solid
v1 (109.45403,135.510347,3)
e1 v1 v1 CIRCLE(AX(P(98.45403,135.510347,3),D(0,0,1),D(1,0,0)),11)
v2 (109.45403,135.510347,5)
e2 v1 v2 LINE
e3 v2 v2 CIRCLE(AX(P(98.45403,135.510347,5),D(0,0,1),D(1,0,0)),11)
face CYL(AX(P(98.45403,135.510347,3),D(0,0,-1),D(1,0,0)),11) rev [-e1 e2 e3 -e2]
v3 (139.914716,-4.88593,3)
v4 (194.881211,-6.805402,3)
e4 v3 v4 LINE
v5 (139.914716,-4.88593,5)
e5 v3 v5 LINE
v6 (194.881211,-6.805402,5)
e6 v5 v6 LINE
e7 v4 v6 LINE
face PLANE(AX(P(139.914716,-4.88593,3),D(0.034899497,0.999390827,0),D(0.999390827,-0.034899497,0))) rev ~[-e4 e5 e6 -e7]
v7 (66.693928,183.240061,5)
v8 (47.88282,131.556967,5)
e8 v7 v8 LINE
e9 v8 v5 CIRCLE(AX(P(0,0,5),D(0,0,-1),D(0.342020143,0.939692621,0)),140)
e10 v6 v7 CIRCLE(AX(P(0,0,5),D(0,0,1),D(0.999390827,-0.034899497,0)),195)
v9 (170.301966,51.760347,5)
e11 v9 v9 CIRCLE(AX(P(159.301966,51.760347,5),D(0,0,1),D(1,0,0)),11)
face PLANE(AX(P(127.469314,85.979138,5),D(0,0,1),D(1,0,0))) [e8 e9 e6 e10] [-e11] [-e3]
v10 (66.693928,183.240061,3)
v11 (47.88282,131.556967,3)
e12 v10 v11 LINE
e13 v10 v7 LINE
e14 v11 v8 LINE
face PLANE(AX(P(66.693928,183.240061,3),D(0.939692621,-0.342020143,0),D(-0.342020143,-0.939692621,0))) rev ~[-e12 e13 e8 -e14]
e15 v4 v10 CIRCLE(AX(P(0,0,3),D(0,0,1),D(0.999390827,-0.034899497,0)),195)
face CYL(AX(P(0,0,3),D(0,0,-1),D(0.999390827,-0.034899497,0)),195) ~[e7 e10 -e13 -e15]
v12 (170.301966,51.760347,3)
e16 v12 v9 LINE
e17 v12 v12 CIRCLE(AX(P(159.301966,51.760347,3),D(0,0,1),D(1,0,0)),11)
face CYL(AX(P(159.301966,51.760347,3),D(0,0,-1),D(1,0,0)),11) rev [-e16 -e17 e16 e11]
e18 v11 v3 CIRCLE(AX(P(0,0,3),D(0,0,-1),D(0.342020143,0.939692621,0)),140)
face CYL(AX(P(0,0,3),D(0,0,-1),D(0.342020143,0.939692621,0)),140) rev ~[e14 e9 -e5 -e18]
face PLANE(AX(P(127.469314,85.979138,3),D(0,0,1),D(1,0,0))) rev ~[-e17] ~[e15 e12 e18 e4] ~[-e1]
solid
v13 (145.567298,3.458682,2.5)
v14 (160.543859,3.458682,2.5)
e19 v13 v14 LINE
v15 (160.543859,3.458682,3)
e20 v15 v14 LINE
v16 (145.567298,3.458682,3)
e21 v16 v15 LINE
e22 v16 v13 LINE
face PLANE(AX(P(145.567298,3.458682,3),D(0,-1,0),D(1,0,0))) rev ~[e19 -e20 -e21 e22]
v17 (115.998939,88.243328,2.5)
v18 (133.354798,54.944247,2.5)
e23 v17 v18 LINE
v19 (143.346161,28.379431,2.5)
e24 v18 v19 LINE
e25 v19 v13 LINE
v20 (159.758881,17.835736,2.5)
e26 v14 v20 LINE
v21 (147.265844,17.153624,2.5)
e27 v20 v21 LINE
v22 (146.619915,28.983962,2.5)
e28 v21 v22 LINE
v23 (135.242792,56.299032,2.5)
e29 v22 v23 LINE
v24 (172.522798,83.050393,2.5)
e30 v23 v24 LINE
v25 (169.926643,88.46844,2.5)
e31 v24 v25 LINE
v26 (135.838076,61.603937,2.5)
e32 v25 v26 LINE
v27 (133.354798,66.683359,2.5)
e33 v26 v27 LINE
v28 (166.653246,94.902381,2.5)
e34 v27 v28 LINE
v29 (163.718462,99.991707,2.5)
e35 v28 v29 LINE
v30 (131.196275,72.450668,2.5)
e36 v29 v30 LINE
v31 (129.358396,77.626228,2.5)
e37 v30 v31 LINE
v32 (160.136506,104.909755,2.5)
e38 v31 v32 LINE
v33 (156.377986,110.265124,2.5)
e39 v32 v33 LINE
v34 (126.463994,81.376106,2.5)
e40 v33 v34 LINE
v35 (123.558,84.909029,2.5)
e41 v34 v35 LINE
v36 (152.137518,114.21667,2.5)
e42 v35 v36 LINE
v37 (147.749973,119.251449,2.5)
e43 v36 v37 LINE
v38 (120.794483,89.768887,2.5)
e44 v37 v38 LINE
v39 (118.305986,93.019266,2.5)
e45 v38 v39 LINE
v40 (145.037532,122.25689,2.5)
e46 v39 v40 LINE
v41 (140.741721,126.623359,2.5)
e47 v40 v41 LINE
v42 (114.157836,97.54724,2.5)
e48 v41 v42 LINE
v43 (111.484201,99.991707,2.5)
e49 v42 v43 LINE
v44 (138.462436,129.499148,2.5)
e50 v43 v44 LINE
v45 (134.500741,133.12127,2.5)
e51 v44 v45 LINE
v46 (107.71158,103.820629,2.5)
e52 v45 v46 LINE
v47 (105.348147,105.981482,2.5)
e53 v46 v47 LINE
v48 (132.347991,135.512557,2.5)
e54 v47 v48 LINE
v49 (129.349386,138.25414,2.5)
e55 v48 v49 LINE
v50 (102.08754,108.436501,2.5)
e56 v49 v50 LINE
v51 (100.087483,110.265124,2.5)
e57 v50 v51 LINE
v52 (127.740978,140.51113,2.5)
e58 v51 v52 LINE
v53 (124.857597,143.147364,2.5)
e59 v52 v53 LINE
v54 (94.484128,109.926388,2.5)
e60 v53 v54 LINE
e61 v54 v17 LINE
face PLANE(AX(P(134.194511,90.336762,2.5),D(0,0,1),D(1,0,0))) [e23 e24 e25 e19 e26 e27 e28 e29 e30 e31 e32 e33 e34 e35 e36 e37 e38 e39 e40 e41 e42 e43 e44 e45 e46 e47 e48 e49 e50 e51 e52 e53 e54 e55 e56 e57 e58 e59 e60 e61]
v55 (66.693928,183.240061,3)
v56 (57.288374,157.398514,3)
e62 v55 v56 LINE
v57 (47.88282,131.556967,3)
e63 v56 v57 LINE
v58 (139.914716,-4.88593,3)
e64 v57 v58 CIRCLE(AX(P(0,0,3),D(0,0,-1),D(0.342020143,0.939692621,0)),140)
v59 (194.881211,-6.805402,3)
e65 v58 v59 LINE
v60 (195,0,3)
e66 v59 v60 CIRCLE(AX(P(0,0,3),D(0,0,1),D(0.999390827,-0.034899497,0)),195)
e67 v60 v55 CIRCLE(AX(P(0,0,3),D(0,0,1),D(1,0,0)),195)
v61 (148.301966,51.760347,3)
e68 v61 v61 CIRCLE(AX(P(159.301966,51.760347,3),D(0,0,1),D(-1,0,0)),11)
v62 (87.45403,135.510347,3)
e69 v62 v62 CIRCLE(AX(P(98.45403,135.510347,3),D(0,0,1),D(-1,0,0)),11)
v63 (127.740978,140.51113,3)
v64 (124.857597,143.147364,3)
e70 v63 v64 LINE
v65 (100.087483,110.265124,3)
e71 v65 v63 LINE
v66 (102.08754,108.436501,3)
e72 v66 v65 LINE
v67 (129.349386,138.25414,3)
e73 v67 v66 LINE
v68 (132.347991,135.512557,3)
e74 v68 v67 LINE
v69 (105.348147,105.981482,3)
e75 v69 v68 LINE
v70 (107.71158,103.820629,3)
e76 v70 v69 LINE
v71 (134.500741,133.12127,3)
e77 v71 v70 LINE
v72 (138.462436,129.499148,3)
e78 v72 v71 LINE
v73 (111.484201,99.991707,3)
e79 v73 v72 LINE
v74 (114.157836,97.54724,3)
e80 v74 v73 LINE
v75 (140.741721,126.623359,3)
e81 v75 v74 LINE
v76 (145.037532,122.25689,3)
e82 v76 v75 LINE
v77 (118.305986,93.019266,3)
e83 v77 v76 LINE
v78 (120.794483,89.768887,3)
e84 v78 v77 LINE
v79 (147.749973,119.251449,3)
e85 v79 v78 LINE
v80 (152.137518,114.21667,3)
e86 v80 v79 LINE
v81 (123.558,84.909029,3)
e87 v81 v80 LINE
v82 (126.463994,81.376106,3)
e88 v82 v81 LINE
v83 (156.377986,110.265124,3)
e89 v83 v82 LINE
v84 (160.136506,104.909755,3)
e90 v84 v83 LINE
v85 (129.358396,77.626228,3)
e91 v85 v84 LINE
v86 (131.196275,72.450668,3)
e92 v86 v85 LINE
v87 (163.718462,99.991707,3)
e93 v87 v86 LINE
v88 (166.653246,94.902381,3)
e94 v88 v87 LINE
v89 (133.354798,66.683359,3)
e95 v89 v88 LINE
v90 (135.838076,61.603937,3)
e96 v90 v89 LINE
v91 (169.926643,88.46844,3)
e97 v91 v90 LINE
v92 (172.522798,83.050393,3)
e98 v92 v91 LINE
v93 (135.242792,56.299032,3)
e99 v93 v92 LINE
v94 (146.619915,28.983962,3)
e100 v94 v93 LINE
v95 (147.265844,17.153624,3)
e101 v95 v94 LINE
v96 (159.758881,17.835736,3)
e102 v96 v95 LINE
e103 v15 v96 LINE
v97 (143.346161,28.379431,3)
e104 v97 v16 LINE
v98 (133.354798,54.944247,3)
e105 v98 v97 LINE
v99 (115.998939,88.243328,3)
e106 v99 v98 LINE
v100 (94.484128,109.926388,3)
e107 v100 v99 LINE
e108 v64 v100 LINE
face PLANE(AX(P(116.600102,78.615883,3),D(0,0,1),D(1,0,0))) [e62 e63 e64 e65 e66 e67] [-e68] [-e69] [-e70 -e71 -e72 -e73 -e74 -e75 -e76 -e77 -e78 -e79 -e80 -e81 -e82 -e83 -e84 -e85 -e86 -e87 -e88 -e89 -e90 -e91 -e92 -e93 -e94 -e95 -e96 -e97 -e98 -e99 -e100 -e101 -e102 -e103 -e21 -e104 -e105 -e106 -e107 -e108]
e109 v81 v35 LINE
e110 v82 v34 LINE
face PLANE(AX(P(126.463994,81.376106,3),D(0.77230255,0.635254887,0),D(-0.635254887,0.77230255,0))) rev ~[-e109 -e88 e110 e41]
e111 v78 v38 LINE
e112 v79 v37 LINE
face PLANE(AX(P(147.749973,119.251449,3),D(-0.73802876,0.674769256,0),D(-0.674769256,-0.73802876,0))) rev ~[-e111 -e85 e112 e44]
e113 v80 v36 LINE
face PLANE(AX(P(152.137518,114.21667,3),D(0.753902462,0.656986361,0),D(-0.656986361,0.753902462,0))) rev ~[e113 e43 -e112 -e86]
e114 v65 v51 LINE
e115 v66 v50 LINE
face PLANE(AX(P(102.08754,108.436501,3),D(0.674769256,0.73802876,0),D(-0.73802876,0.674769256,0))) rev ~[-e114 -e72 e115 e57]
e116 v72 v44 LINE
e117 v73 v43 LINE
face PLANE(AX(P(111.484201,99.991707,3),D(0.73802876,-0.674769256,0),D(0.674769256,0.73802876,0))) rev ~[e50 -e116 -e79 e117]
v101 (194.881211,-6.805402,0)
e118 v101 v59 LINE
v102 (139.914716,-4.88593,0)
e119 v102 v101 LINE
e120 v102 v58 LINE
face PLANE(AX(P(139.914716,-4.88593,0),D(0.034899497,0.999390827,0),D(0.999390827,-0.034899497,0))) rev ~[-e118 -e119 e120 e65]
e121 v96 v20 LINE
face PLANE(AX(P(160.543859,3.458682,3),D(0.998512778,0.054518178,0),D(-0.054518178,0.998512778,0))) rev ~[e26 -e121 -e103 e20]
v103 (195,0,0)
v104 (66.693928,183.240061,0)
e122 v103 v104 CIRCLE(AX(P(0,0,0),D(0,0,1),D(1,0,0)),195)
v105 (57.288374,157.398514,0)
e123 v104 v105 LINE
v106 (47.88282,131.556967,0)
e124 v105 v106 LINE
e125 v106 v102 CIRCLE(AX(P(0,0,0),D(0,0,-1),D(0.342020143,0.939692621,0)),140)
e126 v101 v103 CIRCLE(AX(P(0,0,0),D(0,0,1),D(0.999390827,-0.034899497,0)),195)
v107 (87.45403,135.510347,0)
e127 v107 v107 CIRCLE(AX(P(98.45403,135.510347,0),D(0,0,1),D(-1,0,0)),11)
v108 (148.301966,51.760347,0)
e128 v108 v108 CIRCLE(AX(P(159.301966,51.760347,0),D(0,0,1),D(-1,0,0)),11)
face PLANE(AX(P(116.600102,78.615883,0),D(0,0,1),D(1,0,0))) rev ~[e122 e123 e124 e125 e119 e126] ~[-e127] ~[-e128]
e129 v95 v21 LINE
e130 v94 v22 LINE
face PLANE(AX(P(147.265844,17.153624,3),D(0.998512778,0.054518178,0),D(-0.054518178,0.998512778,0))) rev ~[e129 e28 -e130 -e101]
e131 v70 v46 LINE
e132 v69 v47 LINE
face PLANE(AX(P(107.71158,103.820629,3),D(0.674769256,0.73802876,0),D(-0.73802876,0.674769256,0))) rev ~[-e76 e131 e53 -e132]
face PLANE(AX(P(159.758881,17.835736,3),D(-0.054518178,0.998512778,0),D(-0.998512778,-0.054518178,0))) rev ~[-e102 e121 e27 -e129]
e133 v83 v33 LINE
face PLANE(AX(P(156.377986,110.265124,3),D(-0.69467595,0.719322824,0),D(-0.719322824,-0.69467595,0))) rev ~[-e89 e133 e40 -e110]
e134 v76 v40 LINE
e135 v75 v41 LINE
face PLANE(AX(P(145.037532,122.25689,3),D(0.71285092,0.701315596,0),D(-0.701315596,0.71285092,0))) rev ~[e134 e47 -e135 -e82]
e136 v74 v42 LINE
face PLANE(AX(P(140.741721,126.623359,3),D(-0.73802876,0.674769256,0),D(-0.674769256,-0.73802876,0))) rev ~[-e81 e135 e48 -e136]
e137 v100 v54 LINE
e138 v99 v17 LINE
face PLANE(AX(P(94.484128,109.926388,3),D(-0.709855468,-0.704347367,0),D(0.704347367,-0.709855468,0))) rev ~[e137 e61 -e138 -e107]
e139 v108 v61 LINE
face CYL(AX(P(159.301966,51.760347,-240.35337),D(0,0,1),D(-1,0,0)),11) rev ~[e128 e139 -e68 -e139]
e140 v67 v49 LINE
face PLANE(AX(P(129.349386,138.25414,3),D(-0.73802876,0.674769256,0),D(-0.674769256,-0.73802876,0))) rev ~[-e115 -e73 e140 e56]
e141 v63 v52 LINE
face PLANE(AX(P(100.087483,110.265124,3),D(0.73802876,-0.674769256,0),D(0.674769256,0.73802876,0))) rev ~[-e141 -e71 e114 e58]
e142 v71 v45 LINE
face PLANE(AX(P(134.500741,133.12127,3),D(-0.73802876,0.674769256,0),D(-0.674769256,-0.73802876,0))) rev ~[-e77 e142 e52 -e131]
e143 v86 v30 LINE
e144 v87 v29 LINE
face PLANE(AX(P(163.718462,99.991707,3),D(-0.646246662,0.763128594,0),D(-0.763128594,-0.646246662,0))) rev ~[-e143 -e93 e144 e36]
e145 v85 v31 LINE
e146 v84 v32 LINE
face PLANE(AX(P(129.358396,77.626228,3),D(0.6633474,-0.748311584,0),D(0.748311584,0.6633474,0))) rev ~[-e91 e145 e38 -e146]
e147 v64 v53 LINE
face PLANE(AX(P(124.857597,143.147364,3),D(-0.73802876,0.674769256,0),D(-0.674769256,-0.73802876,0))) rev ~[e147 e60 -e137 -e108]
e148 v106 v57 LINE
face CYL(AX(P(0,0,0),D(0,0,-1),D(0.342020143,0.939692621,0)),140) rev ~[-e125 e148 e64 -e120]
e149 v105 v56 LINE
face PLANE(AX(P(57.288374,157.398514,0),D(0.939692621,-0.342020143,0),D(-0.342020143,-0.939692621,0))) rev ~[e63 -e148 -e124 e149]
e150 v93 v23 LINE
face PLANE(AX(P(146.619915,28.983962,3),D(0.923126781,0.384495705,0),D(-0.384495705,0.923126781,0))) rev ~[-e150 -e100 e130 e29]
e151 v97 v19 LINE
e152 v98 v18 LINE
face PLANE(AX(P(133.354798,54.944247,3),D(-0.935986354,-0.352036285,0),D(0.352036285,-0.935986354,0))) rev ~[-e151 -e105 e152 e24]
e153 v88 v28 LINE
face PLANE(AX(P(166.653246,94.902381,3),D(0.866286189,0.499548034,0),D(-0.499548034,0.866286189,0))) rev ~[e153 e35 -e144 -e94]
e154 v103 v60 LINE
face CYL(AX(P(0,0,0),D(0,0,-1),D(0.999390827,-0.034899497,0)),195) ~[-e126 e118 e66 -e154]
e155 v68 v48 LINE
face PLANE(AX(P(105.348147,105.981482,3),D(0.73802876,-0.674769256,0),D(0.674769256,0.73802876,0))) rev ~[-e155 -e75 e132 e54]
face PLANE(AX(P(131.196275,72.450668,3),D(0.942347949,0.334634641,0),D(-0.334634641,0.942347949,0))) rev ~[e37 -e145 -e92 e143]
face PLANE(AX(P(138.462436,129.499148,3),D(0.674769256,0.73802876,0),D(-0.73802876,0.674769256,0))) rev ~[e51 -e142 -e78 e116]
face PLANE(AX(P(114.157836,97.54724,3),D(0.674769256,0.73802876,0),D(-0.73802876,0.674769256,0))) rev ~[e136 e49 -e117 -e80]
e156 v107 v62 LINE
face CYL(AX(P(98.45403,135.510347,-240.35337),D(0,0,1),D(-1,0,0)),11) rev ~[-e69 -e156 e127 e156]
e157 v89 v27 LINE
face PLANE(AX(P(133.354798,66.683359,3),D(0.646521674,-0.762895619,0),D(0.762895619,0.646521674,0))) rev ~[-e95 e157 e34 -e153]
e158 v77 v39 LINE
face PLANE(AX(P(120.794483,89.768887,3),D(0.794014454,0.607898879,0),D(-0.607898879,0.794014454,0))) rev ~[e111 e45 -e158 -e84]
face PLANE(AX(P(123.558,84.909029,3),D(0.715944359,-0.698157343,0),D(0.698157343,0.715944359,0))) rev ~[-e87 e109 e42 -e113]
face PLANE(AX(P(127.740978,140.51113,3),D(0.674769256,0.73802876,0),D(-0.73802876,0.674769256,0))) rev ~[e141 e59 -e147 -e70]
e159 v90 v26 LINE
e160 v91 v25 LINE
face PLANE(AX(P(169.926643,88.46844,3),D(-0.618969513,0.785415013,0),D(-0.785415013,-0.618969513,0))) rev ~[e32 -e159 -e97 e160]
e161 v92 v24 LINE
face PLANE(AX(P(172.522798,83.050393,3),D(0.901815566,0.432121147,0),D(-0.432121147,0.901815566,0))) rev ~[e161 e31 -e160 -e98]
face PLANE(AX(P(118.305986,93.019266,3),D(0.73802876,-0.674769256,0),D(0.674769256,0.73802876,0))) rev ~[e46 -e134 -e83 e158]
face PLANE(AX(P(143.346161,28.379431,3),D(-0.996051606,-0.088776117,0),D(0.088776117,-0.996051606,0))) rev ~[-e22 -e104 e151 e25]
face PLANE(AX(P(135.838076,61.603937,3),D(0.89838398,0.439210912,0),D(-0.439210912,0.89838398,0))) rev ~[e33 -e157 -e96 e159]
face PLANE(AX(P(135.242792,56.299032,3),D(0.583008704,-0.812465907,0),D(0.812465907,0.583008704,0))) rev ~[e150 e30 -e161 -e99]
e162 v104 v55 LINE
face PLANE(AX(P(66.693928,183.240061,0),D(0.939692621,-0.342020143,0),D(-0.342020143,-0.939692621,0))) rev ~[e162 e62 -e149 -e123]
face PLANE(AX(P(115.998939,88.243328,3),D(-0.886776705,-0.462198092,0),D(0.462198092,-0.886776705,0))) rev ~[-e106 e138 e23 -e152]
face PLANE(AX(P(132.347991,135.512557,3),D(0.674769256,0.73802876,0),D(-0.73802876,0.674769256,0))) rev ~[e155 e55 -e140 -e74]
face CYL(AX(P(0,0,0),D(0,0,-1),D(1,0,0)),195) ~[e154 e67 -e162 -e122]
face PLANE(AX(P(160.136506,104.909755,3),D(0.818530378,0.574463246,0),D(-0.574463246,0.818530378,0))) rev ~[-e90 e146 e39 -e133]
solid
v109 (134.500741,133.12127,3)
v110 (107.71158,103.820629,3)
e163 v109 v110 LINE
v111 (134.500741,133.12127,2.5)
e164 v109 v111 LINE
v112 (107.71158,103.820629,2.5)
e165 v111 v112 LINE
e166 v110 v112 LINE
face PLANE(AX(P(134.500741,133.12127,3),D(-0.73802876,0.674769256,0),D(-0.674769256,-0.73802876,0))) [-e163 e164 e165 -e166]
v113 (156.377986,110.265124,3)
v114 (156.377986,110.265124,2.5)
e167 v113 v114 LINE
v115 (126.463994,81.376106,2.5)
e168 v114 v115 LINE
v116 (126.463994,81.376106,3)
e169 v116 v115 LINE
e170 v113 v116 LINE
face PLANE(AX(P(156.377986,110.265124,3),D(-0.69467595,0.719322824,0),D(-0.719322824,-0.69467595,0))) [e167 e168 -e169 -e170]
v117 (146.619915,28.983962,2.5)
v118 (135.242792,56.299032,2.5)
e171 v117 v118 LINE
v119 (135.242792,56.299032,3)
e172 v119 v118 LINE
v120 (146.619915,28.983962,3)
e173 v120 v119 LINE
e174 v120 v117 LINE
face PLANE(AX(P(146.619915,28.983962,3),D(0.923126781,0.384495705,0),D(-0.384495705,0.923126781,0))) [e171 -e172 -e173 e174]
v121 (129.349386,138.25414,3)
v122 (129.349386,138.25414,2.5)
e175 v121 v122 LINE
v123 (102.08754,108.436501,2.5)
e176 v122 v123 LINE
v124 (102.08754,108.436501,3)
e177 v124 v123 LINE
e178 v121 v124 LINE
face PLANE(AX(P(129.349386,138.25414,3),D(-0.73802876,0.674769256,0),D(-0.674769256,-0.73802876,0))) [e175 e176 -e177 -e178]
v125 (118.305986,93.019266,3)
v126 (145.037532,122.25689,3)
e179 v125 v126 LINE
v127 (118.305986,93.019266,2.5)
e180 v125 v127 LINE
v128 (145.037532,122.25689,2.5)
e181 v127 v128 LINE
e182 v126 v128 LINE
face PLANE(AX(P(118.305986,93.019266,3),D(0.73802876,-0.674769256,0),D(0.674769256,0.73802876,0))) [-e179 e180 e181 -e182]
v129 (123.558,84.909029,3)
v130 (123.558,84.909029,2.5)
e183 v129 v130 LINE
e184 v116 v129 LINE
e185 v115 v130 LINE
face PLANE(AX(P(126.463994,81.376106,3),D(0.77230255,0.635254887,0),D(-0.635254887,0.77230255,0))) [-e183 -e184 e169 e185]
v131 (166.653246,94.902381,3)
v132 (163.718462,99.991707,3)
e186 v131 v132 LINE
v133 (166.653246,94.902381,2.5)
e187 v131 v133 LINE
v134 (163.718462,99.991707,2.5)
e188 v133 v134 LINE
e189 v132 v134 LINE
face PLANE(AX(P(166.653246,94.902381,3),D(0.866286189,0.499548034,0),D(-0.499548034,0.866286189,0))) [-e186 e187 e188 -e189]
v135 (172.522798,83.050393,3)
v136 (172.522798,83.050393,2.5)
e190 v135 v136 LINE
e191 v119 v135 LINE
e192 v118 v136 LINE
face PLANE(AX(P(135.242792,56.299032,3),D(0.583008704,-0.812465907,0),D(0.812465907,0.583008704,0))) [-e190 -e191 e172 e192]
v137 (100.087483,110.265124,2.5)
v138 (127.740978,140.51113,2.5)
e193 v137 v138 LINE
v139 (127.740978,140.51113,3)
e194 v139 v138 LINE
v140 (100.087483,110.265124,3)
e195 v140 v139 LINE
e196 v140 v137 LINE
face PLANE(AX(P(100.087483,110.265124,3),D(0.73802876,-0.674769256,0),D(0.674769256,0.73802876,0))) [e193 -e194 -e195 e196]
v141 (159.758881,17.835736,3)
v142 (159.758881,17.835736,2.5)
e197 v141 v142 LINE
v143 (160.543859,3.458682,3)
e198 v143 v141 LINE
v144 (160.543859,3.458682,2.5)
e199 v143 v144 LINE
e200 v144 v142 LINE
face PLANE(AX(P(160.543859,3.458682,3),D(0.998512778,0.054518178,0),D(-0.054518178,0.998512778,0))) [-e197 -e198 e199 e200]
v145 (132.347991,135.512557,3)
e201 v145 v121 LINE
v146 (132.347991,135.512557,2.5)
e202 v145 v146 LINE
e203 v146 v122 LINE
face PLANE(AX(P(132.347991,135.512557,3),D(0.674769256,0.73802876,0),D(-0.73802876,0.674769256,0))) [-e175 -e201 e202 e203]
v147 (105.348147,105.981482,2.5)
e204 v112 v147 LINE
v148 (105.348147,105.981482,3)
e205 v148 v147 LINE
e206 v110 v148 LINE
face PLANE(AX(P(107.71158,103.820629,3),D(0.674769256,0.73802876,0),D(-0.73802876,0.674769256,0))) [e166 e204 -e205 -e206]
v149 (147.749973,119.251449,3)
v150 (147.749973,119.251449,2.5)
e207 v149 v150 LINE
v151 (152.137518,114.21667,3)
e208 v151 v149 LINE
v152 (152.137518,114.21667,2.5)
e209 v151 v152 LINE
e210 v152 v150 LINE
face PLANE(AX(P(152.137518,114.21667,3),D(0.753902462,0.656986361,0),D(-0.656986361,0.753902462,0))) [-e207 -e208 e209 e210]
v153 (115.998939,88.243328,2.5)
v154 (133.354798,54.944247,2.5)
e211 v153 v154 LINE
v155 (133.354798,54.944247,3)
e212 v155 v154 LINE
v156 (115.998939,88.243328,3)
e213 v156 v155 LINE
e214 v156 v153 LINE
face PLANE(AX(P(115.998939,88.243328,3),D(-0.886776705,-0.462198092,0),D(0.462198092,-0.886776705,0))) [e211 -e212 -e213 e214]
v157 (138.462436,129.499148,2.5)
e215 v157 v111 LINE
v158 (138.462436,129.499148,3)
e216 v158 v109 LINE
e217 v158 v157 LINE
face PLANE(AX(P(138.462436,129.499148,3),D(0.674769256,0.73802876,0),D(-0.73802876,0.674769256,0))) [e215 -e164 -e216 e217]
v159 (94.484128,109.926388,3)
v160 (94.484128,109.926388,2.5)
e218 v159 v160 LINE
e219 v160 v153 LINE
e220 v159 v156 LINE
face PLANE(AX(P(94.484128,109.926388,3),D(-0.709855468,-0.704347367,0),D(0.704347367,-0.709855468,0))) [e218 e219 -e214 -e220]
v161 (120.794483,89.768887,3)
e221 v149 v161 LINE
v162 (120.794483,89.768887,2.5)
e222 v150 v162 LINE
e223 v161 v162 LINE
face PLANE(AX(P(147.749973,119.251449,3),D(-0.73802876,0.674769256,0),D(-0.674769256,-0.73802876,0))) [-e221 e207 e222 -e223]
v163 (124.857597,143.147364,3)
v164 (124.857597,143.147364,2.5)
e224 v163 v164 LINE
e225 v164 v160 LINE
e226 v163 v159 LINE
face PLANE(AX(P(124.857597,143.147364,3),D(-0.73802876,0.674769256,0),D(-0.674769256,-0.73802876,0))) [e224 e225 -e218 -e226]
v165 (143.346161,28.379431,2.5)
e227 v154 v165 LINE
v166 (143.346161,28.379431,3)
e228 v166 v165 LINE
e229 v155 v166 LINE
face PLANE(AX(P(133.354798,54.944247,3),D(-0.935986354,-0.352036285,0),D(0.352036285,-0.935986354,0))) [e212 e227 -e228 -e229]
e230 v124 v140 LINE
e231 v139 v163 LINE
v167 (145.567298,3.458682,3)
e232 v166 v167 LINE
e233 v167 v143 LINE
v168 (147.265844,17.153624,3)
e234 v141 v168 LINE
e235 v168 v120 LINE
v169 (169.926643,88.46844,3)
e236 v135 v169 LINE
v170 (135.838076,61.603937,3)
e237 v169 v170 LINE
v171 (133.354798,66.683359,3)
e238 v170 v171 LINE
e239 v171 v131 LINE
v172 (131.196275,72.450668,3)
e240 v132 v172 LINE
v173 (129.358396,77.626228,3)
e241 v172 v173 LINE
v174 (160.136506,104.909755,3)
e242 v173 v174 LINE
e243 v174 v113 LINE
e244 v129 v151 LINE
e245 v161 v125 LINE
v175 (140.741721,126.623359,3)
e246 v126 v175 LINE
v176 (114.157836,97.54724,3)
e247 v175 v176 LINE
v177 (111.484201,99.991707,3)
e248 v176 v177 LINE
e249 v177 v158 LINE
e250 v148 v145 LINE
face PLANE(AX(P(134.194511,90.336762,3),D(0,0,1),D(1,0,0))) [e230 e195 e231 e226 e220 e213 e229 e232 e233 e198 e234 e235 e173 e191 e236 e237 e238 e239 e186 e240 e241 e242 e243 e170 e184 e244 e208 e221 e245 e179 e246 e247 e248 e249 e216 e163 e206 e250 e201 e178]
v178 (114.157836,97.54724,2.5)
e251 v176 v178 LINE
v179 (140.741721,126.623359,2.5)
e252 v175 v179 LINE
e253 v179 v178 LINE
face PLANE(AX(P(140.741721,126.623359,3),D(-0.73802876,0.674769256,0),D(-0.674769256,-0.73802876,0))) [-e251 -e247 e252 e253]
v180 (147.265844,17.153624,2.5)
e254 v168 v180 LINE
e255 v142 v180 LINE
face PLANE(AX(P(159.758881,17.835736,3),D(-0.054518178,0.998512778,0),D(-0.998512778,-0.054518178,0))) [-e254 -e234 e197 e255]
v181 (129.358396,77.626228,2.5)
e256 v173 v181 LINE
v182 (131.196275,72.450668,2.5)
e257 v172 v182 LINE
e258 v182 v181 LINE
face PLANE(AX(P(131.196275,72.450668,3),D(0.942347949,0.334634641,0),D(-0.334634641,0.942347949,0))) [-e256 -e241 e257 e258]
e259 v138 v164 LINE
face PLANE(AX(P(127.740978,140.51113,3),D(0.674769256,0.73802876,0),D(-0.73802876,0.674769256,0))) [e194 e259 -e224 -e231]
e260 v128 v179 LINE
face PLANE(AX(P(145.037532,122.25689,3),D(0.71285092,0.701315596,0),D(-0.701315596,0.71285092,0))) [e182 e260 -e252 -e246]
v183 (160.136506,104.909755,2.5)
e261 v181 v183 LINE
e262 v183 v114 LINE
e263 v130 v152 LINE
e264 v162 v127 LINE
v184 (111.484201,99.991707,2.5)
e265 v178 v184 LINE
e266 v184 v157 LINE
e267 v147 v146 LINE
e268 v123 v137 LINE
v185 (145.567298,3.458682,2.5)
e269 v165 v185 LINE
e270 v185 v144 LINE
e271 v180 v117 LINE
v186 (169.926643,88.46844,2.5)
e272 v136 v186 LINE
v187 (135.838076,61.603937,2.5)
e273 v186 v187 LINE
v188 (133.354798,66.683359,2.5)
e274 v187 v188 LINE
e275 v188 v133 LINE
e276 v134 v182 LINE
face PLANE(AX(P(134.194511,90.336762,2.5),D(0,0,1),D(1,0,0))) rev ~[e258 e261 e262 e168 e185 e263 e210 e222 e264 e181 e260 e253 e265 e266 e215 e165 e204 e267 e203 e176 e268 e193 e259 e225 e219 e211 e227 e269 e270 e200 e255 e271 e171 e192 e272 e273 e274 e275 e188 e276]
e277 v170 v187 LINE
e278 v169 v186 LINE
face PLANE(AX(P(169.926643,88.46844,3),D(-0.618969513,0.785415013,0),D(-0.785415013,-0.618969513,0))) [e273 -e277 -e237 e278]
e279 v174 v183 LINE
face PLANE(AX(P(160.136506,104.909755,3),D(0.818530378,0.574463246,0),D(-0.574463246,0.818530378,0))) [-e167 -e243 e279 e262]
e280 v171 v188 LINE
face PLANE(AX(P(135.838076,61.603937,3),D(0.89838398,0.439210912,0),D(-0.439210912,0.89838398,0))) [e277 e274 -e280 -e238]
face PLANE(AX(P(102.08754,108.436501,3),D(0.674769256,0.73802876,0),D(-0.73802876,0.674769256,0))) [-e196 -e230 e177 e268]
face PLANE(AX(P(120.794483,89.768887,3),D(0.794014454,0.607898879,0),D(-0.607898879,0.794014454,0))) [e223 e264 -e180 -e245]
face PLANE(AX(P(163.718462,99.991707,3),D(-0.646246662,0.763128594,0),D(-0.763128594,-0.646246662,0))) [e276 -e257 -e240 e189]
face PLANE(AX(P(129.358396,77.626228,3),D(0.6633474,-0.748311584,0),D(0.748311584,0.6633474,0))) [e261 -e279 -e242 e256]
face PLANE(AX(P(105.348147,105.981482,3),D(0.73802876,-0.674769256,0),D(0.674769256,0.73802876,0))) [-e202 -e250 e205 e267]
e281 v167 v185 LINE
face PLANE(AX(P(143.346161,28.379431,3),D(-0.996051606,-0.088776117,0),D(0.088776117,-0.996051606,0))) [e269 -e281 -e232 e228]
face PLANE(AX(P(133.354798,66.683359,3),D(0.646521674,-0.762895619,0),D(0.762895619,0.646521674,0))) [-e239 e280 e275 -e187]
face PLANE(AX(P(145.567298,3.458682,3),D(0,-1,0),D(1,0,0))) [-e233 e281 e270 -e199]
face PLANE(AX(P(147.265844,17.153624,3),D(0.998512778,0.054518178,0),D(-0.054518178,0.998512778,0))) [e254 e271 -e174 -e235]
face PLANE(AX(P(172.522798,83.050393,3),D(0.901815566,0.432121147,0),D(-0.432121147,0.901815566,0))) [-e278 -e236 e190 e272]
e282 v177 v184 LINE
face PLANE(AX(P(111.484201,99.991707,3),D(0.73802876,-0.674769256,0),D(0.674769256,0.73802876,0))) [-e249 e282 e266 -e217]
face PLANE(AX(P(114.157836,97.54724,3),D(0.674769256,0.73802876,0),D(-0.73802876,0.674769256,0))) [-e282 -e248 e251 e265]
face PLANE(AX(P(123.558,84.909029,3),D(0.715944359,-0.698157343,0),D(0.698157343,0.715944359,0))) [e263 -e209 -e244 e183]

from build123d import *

# Parameters (mm, degrees)
F1_DEPTH = 3
F2_D     = 22
F4_DEPTH = 0.5
F5_DEPTH = 0.5
F6_R     = 11
F7_DEPTH = 2


with BuildPart() as f1:
    # F0 (on Top) → F1 (new body)
    with BuildSketch(Plane.XY):
        with BuildLine():
            ThreePointArc((167.5, 0), (137.2079674184, 96.0740530888), (57.288374007, 157.3985139816))
            Line((57.288374007, 157.3985139816), (47.8828200656, 131.55696691))
            ThreePointArc((47.8828200656, 131.55696691), (114.6812862005, 80.3007010891), (140, 0))
            ThreePointArc((140, 0), (139.9786773219, -2.4433369012), (139.9147157827, -4.8859295383))
            Line((139.9147157827, -4.8859295384), (167.3979635257, -5.8456656977))
            ThreePointArc((167.3979635257, -5.8456656977), (167.4744889387, -2.9232780782), (167.5, 0))
        make_face()
        with BuildLine():
            ThreePointArc((194.8812112687, -6.805401857), (194.9703005555, -3.4032192553), (195, 0))
            ThreePointArc((195, 0), (159.7346486364, 111.8474050885), (66.6939279485, 183.2400610533))
            Line((66.6939279485, 183.2400610533), (57.288374007, 157.3985139816))
            ThreePointArc((57.288374007, 157.3985139816), (137.2079674184, 96.0740530888), (167.5, 0))
            ThreePointArc((167.5, 0), (167.4744889387, -2.9232780782), (167.3979635257, -5.8456656977))
            Line((167.3979635257, -5.8456656977), (194.8812112687, -6.805401857))
        make_face()
    extrude(amount=F1_DEPTH)

    # F2 (through all)
    with Locations(Plane(origin=(0, 0, 0), x_dir=(1, 0, 0), z_dir=(0, 0, -1))):
        with Locations((98.454029759, -135.5103465578), (159.3019664794, -51.7603465578), (159.3019664794, 51.7603465578)):
            Hole(F2_D / 2)

    # F3 (on face) → F4 (cut)
    with BuildSketch(Plane.XY.offset(3)):
        Polygon((124.8575970531, 143.1473642588), (94.484128058, 109.9263876677), (115.9989386797, 88.2433280349), (133.3547979593, 54.9442470074), (143.3461606503, 28.3794309944), (145.5672979355, 3.4586815163), (160.543859005, 3.4586815163), (159.7588807344, 17.8357362747), (147.2658441237, 17.1536242262), (146.6199150106, 28.9839621818), (135.2427917925, 56.2990322707), (172.5227981806, 83.0503925681), (169.9266433716, 88.468439877), (135.8380764723, 61.6039372981), (133.3547979593, 66.6833594441), (166.6532456875, 94.9023813009), (163.7184619904, 99.9917068722), (131.1962753534, 72.4506676197), (129.3583959341, 77.6262283325), (160.1365059614, 104.9097552896), (156.3779860735, 110.2651243658), (126.4639943838, 81.376105547), (123.5579997301, 84.909029305), (152.1375179291, 114.2166703939), (147.7499727119, 119.2514494077), (120.7944825292, 89.7688865662), (118.305986066, 93.0192662431), (145.0375318527, 122.2568899393), (140.7417208361, 126.6233589756), (114.1578362166, 97.5472396562), (111.4842006113, 99.9917068722), (138.4624362817, 129.499147587), (134.5007407959, 133.1212697326), (107.7115796058, 103.8206291987), (105.3481470084, 105.9814821923), (132.3479912187, 135.512557244), (129.3493856729, 138.2541398801), (102.0875399782, 108.436500749), (100.0874832057, 110.2651243658), (127.7409781047, 140.5111297479), align=None)
    extrude(amount=-F4_DEPTH, mode=Mode.SUBTRACT)


with BuildPart() as f5:
    # F3 (on face) → F5 (new body)
    with BuildSketch(Plane.XY.offset(3)):
        Polygon((124.8575970531, 143.1473642588), (94.484128058, 109.9263876677), (115.9989386797, 88.2433280349), (133.3547979593, 54.9442470074), (143.3461606503, 28.3794309944), (145.5672979355, 3.4586815163), (160.543859005, 3.4586815163), (159.7588807344, 17.8357362747), (147.2658441237, 17.1536242262), (146.6199150106, 28.9839621818), (135.2427917925, 56.2990322707), (172.5227981806, 83.0503925681), (169.9266433716, 88.468439877), (135.8380764723, 61.6039372981), (133.3547979593, 66.6833594441), (166.6532456875, 94.9023813009), (163.7184619904, 99.9917068722), (131.1962753534, 72.4506676197), (129.3583959341, 77.6262283325), (160.1365059614, 104.9097552896), (156.3779860735, 110.2651243658), (126.4639943838, 81.376105547), (123.5579997301, 84.909029305), (152.1375179291, 114.2166703939), (147.7499727119, 119.2514494077), (120.7944825292, 89.7688865662), (118.305986066, 93.0192662431), (145.0375318527, 122.2568899393), (140.7417208361, 126.6233589756), (114.1578362166, 97.5472396562), (111.4842006113, 99.9917068722), (138.4624362817, 129.499147587), (134.5007407959, 133.1212697326), (107.7115796058, 103.8206291987), (105.3481470084, 105.9814821923), (132.3479912187, 135.512557244), (129.3493856729, 138.2541398801), (102.0875399782, 108.436500749), (100.0874832057, 110.2651243658), (127.7409781047, 140.5111297479), align=None)
    extrude(amount=-F5_DEPTH)


with BuildPart() as f7:
    # F6 (on face) → F7 (new body)
    with BuildSketch(Plane.XY.offset(3)):
        with BuildLine():
            Line((66.6939279485, 183.2400610533), (47.8828200656, 131.55696691))
            ThreePointArc((47.8828200656, 131.55696691), (116.0652601577, 78.2870064859), (139.9147157827, -4.8859295383))
            Line((139.9147157827, -4.8859295383), (194.8812112687, -6.805401857))
            ThreePointArc((194.8812112687, -6.805401857), (161.6623266482, 109.0426161768), (66.6939279485, 183.2400610533))
        make_face()
        Polygon((115.9989386797, 88.2433280349), (94.484128058, 109.9263876677), (124.8575970531, 143.1473642588), (127.7409781047, 140.5111297479), (100.0874832057, 110.2651243658), (102.0875399782, 108.436500749), (129.3493856729, 138.2541398801), (132.3479912187, 135.512557244), (105.3481470084, 105.9814821923), (107.7115796058, 103.8206291987), (134.5007407959, 133.1212697326), (138.4624362817, 129.499147587), (111.4842006113, 99.9917068722), (114.1578362166, 97.5472396562), (140.7417208361, 126.6233589756), (145.0375318527, 122.2568899393), (118.305986066, 93.0192662431), (120.7944825292, 89.7688865662), (147.7499727119, 119.2514494077), (152.1375179291, 114.2166703939), (123.5579997301, 84.909029305), (126.4639943838, 81.376105547), (156.3779860735, 110.2651243658), (160.1365059614, 104.9097552896), (129.3583959341, 77.6262283325), (131.1962753534, 72.4506676197), (163.7184619904, 99.9917068722), (166.6532456875, 94.9023813009), (133.3547979593, 66.6833594441), (135.8380764723, 61.6039372981), (169.9266433716, 88.468439877), (172.5227981806, 83.0503925681), (135.2427917925, 56.2990322707), (146.6199150106, 28.9839621818), (147.2658441237, 17.1536242262), (159.7588807344, 17.8357362747), (160.543859005, 3.4586815163), (145.5672979355, 3.4586815163), (143.3461606503, 28.3794309944), (133.3547979593, 54.9442470074), align=None, mode=Mode.SUBTRACT)
        with Locations((159.3019664794, 51.7603465578)):
            Circle(F6_R, mode=Mode.SUBTRACT)
        with Locations((98.454029759, 135.5103465578)):
            Circle(F6_R, mode=Mode.SUBTRACT)
        Polygon((124.8575970531, 143.1473642588), (94.484128058, 109.9263876677), (115.9989386797, 88.2433280349), (133.3547979593, 54.9442470074), (143.3461606503, 28.3794309944), (145.5672979355, 3.4586815163), (160.543859005, 3.4586815163), (159.7588807344, 17.8357362747), (147.2658441237, 17.1536242262), (146.6199150106, 28.9839621818), (135.2427917925, 56.2990322707), (172.5227981806, 83.0503925681), (169.9266433716, 88.468439877), (135.8380764723, 61.6039372981), (133.3547979593, 66.6833594441), (166.6532456875, 94.9023813009), (163.7184619904, 99.9917068722), (131.1962753534, 72.4506676197), (129.3583959341, 77.6262283325), (160.1365059614, 104.9097552896), (156.3779860735, 110.2651243658), (126.4639943838, 81.376105547), (123.5579997301, 84.909029305), (152.1375179291, 114.2166703939), (147.7499727119, 119.2514494077), (120.7944825292, 89.7688865662), (118.305986066, 93.0192662431), (145.0375318527, 122.2568899393), (140.7417208361, 126.6233589756), (114.1578362166, 97.5472396562), (111.4842006113, 99.9917068722), (138.4624362817, 129.499147587), (134.5007407959, 133.1212697326), (107.7115796058, 103.8206291987), (105.3481470084, 105.9814821923), (132.3479912187, 135.512557244), (129.3493856729, 138.2541398801), (102.0875399782, 108.436500749), (100.0874832057, 110.2651243658), (127.7409781047, 140.5111297479), align=None)
    extrude(amount=F7_DEPTH)


solid = Compound([f1.part, f5.part, f7.part])
